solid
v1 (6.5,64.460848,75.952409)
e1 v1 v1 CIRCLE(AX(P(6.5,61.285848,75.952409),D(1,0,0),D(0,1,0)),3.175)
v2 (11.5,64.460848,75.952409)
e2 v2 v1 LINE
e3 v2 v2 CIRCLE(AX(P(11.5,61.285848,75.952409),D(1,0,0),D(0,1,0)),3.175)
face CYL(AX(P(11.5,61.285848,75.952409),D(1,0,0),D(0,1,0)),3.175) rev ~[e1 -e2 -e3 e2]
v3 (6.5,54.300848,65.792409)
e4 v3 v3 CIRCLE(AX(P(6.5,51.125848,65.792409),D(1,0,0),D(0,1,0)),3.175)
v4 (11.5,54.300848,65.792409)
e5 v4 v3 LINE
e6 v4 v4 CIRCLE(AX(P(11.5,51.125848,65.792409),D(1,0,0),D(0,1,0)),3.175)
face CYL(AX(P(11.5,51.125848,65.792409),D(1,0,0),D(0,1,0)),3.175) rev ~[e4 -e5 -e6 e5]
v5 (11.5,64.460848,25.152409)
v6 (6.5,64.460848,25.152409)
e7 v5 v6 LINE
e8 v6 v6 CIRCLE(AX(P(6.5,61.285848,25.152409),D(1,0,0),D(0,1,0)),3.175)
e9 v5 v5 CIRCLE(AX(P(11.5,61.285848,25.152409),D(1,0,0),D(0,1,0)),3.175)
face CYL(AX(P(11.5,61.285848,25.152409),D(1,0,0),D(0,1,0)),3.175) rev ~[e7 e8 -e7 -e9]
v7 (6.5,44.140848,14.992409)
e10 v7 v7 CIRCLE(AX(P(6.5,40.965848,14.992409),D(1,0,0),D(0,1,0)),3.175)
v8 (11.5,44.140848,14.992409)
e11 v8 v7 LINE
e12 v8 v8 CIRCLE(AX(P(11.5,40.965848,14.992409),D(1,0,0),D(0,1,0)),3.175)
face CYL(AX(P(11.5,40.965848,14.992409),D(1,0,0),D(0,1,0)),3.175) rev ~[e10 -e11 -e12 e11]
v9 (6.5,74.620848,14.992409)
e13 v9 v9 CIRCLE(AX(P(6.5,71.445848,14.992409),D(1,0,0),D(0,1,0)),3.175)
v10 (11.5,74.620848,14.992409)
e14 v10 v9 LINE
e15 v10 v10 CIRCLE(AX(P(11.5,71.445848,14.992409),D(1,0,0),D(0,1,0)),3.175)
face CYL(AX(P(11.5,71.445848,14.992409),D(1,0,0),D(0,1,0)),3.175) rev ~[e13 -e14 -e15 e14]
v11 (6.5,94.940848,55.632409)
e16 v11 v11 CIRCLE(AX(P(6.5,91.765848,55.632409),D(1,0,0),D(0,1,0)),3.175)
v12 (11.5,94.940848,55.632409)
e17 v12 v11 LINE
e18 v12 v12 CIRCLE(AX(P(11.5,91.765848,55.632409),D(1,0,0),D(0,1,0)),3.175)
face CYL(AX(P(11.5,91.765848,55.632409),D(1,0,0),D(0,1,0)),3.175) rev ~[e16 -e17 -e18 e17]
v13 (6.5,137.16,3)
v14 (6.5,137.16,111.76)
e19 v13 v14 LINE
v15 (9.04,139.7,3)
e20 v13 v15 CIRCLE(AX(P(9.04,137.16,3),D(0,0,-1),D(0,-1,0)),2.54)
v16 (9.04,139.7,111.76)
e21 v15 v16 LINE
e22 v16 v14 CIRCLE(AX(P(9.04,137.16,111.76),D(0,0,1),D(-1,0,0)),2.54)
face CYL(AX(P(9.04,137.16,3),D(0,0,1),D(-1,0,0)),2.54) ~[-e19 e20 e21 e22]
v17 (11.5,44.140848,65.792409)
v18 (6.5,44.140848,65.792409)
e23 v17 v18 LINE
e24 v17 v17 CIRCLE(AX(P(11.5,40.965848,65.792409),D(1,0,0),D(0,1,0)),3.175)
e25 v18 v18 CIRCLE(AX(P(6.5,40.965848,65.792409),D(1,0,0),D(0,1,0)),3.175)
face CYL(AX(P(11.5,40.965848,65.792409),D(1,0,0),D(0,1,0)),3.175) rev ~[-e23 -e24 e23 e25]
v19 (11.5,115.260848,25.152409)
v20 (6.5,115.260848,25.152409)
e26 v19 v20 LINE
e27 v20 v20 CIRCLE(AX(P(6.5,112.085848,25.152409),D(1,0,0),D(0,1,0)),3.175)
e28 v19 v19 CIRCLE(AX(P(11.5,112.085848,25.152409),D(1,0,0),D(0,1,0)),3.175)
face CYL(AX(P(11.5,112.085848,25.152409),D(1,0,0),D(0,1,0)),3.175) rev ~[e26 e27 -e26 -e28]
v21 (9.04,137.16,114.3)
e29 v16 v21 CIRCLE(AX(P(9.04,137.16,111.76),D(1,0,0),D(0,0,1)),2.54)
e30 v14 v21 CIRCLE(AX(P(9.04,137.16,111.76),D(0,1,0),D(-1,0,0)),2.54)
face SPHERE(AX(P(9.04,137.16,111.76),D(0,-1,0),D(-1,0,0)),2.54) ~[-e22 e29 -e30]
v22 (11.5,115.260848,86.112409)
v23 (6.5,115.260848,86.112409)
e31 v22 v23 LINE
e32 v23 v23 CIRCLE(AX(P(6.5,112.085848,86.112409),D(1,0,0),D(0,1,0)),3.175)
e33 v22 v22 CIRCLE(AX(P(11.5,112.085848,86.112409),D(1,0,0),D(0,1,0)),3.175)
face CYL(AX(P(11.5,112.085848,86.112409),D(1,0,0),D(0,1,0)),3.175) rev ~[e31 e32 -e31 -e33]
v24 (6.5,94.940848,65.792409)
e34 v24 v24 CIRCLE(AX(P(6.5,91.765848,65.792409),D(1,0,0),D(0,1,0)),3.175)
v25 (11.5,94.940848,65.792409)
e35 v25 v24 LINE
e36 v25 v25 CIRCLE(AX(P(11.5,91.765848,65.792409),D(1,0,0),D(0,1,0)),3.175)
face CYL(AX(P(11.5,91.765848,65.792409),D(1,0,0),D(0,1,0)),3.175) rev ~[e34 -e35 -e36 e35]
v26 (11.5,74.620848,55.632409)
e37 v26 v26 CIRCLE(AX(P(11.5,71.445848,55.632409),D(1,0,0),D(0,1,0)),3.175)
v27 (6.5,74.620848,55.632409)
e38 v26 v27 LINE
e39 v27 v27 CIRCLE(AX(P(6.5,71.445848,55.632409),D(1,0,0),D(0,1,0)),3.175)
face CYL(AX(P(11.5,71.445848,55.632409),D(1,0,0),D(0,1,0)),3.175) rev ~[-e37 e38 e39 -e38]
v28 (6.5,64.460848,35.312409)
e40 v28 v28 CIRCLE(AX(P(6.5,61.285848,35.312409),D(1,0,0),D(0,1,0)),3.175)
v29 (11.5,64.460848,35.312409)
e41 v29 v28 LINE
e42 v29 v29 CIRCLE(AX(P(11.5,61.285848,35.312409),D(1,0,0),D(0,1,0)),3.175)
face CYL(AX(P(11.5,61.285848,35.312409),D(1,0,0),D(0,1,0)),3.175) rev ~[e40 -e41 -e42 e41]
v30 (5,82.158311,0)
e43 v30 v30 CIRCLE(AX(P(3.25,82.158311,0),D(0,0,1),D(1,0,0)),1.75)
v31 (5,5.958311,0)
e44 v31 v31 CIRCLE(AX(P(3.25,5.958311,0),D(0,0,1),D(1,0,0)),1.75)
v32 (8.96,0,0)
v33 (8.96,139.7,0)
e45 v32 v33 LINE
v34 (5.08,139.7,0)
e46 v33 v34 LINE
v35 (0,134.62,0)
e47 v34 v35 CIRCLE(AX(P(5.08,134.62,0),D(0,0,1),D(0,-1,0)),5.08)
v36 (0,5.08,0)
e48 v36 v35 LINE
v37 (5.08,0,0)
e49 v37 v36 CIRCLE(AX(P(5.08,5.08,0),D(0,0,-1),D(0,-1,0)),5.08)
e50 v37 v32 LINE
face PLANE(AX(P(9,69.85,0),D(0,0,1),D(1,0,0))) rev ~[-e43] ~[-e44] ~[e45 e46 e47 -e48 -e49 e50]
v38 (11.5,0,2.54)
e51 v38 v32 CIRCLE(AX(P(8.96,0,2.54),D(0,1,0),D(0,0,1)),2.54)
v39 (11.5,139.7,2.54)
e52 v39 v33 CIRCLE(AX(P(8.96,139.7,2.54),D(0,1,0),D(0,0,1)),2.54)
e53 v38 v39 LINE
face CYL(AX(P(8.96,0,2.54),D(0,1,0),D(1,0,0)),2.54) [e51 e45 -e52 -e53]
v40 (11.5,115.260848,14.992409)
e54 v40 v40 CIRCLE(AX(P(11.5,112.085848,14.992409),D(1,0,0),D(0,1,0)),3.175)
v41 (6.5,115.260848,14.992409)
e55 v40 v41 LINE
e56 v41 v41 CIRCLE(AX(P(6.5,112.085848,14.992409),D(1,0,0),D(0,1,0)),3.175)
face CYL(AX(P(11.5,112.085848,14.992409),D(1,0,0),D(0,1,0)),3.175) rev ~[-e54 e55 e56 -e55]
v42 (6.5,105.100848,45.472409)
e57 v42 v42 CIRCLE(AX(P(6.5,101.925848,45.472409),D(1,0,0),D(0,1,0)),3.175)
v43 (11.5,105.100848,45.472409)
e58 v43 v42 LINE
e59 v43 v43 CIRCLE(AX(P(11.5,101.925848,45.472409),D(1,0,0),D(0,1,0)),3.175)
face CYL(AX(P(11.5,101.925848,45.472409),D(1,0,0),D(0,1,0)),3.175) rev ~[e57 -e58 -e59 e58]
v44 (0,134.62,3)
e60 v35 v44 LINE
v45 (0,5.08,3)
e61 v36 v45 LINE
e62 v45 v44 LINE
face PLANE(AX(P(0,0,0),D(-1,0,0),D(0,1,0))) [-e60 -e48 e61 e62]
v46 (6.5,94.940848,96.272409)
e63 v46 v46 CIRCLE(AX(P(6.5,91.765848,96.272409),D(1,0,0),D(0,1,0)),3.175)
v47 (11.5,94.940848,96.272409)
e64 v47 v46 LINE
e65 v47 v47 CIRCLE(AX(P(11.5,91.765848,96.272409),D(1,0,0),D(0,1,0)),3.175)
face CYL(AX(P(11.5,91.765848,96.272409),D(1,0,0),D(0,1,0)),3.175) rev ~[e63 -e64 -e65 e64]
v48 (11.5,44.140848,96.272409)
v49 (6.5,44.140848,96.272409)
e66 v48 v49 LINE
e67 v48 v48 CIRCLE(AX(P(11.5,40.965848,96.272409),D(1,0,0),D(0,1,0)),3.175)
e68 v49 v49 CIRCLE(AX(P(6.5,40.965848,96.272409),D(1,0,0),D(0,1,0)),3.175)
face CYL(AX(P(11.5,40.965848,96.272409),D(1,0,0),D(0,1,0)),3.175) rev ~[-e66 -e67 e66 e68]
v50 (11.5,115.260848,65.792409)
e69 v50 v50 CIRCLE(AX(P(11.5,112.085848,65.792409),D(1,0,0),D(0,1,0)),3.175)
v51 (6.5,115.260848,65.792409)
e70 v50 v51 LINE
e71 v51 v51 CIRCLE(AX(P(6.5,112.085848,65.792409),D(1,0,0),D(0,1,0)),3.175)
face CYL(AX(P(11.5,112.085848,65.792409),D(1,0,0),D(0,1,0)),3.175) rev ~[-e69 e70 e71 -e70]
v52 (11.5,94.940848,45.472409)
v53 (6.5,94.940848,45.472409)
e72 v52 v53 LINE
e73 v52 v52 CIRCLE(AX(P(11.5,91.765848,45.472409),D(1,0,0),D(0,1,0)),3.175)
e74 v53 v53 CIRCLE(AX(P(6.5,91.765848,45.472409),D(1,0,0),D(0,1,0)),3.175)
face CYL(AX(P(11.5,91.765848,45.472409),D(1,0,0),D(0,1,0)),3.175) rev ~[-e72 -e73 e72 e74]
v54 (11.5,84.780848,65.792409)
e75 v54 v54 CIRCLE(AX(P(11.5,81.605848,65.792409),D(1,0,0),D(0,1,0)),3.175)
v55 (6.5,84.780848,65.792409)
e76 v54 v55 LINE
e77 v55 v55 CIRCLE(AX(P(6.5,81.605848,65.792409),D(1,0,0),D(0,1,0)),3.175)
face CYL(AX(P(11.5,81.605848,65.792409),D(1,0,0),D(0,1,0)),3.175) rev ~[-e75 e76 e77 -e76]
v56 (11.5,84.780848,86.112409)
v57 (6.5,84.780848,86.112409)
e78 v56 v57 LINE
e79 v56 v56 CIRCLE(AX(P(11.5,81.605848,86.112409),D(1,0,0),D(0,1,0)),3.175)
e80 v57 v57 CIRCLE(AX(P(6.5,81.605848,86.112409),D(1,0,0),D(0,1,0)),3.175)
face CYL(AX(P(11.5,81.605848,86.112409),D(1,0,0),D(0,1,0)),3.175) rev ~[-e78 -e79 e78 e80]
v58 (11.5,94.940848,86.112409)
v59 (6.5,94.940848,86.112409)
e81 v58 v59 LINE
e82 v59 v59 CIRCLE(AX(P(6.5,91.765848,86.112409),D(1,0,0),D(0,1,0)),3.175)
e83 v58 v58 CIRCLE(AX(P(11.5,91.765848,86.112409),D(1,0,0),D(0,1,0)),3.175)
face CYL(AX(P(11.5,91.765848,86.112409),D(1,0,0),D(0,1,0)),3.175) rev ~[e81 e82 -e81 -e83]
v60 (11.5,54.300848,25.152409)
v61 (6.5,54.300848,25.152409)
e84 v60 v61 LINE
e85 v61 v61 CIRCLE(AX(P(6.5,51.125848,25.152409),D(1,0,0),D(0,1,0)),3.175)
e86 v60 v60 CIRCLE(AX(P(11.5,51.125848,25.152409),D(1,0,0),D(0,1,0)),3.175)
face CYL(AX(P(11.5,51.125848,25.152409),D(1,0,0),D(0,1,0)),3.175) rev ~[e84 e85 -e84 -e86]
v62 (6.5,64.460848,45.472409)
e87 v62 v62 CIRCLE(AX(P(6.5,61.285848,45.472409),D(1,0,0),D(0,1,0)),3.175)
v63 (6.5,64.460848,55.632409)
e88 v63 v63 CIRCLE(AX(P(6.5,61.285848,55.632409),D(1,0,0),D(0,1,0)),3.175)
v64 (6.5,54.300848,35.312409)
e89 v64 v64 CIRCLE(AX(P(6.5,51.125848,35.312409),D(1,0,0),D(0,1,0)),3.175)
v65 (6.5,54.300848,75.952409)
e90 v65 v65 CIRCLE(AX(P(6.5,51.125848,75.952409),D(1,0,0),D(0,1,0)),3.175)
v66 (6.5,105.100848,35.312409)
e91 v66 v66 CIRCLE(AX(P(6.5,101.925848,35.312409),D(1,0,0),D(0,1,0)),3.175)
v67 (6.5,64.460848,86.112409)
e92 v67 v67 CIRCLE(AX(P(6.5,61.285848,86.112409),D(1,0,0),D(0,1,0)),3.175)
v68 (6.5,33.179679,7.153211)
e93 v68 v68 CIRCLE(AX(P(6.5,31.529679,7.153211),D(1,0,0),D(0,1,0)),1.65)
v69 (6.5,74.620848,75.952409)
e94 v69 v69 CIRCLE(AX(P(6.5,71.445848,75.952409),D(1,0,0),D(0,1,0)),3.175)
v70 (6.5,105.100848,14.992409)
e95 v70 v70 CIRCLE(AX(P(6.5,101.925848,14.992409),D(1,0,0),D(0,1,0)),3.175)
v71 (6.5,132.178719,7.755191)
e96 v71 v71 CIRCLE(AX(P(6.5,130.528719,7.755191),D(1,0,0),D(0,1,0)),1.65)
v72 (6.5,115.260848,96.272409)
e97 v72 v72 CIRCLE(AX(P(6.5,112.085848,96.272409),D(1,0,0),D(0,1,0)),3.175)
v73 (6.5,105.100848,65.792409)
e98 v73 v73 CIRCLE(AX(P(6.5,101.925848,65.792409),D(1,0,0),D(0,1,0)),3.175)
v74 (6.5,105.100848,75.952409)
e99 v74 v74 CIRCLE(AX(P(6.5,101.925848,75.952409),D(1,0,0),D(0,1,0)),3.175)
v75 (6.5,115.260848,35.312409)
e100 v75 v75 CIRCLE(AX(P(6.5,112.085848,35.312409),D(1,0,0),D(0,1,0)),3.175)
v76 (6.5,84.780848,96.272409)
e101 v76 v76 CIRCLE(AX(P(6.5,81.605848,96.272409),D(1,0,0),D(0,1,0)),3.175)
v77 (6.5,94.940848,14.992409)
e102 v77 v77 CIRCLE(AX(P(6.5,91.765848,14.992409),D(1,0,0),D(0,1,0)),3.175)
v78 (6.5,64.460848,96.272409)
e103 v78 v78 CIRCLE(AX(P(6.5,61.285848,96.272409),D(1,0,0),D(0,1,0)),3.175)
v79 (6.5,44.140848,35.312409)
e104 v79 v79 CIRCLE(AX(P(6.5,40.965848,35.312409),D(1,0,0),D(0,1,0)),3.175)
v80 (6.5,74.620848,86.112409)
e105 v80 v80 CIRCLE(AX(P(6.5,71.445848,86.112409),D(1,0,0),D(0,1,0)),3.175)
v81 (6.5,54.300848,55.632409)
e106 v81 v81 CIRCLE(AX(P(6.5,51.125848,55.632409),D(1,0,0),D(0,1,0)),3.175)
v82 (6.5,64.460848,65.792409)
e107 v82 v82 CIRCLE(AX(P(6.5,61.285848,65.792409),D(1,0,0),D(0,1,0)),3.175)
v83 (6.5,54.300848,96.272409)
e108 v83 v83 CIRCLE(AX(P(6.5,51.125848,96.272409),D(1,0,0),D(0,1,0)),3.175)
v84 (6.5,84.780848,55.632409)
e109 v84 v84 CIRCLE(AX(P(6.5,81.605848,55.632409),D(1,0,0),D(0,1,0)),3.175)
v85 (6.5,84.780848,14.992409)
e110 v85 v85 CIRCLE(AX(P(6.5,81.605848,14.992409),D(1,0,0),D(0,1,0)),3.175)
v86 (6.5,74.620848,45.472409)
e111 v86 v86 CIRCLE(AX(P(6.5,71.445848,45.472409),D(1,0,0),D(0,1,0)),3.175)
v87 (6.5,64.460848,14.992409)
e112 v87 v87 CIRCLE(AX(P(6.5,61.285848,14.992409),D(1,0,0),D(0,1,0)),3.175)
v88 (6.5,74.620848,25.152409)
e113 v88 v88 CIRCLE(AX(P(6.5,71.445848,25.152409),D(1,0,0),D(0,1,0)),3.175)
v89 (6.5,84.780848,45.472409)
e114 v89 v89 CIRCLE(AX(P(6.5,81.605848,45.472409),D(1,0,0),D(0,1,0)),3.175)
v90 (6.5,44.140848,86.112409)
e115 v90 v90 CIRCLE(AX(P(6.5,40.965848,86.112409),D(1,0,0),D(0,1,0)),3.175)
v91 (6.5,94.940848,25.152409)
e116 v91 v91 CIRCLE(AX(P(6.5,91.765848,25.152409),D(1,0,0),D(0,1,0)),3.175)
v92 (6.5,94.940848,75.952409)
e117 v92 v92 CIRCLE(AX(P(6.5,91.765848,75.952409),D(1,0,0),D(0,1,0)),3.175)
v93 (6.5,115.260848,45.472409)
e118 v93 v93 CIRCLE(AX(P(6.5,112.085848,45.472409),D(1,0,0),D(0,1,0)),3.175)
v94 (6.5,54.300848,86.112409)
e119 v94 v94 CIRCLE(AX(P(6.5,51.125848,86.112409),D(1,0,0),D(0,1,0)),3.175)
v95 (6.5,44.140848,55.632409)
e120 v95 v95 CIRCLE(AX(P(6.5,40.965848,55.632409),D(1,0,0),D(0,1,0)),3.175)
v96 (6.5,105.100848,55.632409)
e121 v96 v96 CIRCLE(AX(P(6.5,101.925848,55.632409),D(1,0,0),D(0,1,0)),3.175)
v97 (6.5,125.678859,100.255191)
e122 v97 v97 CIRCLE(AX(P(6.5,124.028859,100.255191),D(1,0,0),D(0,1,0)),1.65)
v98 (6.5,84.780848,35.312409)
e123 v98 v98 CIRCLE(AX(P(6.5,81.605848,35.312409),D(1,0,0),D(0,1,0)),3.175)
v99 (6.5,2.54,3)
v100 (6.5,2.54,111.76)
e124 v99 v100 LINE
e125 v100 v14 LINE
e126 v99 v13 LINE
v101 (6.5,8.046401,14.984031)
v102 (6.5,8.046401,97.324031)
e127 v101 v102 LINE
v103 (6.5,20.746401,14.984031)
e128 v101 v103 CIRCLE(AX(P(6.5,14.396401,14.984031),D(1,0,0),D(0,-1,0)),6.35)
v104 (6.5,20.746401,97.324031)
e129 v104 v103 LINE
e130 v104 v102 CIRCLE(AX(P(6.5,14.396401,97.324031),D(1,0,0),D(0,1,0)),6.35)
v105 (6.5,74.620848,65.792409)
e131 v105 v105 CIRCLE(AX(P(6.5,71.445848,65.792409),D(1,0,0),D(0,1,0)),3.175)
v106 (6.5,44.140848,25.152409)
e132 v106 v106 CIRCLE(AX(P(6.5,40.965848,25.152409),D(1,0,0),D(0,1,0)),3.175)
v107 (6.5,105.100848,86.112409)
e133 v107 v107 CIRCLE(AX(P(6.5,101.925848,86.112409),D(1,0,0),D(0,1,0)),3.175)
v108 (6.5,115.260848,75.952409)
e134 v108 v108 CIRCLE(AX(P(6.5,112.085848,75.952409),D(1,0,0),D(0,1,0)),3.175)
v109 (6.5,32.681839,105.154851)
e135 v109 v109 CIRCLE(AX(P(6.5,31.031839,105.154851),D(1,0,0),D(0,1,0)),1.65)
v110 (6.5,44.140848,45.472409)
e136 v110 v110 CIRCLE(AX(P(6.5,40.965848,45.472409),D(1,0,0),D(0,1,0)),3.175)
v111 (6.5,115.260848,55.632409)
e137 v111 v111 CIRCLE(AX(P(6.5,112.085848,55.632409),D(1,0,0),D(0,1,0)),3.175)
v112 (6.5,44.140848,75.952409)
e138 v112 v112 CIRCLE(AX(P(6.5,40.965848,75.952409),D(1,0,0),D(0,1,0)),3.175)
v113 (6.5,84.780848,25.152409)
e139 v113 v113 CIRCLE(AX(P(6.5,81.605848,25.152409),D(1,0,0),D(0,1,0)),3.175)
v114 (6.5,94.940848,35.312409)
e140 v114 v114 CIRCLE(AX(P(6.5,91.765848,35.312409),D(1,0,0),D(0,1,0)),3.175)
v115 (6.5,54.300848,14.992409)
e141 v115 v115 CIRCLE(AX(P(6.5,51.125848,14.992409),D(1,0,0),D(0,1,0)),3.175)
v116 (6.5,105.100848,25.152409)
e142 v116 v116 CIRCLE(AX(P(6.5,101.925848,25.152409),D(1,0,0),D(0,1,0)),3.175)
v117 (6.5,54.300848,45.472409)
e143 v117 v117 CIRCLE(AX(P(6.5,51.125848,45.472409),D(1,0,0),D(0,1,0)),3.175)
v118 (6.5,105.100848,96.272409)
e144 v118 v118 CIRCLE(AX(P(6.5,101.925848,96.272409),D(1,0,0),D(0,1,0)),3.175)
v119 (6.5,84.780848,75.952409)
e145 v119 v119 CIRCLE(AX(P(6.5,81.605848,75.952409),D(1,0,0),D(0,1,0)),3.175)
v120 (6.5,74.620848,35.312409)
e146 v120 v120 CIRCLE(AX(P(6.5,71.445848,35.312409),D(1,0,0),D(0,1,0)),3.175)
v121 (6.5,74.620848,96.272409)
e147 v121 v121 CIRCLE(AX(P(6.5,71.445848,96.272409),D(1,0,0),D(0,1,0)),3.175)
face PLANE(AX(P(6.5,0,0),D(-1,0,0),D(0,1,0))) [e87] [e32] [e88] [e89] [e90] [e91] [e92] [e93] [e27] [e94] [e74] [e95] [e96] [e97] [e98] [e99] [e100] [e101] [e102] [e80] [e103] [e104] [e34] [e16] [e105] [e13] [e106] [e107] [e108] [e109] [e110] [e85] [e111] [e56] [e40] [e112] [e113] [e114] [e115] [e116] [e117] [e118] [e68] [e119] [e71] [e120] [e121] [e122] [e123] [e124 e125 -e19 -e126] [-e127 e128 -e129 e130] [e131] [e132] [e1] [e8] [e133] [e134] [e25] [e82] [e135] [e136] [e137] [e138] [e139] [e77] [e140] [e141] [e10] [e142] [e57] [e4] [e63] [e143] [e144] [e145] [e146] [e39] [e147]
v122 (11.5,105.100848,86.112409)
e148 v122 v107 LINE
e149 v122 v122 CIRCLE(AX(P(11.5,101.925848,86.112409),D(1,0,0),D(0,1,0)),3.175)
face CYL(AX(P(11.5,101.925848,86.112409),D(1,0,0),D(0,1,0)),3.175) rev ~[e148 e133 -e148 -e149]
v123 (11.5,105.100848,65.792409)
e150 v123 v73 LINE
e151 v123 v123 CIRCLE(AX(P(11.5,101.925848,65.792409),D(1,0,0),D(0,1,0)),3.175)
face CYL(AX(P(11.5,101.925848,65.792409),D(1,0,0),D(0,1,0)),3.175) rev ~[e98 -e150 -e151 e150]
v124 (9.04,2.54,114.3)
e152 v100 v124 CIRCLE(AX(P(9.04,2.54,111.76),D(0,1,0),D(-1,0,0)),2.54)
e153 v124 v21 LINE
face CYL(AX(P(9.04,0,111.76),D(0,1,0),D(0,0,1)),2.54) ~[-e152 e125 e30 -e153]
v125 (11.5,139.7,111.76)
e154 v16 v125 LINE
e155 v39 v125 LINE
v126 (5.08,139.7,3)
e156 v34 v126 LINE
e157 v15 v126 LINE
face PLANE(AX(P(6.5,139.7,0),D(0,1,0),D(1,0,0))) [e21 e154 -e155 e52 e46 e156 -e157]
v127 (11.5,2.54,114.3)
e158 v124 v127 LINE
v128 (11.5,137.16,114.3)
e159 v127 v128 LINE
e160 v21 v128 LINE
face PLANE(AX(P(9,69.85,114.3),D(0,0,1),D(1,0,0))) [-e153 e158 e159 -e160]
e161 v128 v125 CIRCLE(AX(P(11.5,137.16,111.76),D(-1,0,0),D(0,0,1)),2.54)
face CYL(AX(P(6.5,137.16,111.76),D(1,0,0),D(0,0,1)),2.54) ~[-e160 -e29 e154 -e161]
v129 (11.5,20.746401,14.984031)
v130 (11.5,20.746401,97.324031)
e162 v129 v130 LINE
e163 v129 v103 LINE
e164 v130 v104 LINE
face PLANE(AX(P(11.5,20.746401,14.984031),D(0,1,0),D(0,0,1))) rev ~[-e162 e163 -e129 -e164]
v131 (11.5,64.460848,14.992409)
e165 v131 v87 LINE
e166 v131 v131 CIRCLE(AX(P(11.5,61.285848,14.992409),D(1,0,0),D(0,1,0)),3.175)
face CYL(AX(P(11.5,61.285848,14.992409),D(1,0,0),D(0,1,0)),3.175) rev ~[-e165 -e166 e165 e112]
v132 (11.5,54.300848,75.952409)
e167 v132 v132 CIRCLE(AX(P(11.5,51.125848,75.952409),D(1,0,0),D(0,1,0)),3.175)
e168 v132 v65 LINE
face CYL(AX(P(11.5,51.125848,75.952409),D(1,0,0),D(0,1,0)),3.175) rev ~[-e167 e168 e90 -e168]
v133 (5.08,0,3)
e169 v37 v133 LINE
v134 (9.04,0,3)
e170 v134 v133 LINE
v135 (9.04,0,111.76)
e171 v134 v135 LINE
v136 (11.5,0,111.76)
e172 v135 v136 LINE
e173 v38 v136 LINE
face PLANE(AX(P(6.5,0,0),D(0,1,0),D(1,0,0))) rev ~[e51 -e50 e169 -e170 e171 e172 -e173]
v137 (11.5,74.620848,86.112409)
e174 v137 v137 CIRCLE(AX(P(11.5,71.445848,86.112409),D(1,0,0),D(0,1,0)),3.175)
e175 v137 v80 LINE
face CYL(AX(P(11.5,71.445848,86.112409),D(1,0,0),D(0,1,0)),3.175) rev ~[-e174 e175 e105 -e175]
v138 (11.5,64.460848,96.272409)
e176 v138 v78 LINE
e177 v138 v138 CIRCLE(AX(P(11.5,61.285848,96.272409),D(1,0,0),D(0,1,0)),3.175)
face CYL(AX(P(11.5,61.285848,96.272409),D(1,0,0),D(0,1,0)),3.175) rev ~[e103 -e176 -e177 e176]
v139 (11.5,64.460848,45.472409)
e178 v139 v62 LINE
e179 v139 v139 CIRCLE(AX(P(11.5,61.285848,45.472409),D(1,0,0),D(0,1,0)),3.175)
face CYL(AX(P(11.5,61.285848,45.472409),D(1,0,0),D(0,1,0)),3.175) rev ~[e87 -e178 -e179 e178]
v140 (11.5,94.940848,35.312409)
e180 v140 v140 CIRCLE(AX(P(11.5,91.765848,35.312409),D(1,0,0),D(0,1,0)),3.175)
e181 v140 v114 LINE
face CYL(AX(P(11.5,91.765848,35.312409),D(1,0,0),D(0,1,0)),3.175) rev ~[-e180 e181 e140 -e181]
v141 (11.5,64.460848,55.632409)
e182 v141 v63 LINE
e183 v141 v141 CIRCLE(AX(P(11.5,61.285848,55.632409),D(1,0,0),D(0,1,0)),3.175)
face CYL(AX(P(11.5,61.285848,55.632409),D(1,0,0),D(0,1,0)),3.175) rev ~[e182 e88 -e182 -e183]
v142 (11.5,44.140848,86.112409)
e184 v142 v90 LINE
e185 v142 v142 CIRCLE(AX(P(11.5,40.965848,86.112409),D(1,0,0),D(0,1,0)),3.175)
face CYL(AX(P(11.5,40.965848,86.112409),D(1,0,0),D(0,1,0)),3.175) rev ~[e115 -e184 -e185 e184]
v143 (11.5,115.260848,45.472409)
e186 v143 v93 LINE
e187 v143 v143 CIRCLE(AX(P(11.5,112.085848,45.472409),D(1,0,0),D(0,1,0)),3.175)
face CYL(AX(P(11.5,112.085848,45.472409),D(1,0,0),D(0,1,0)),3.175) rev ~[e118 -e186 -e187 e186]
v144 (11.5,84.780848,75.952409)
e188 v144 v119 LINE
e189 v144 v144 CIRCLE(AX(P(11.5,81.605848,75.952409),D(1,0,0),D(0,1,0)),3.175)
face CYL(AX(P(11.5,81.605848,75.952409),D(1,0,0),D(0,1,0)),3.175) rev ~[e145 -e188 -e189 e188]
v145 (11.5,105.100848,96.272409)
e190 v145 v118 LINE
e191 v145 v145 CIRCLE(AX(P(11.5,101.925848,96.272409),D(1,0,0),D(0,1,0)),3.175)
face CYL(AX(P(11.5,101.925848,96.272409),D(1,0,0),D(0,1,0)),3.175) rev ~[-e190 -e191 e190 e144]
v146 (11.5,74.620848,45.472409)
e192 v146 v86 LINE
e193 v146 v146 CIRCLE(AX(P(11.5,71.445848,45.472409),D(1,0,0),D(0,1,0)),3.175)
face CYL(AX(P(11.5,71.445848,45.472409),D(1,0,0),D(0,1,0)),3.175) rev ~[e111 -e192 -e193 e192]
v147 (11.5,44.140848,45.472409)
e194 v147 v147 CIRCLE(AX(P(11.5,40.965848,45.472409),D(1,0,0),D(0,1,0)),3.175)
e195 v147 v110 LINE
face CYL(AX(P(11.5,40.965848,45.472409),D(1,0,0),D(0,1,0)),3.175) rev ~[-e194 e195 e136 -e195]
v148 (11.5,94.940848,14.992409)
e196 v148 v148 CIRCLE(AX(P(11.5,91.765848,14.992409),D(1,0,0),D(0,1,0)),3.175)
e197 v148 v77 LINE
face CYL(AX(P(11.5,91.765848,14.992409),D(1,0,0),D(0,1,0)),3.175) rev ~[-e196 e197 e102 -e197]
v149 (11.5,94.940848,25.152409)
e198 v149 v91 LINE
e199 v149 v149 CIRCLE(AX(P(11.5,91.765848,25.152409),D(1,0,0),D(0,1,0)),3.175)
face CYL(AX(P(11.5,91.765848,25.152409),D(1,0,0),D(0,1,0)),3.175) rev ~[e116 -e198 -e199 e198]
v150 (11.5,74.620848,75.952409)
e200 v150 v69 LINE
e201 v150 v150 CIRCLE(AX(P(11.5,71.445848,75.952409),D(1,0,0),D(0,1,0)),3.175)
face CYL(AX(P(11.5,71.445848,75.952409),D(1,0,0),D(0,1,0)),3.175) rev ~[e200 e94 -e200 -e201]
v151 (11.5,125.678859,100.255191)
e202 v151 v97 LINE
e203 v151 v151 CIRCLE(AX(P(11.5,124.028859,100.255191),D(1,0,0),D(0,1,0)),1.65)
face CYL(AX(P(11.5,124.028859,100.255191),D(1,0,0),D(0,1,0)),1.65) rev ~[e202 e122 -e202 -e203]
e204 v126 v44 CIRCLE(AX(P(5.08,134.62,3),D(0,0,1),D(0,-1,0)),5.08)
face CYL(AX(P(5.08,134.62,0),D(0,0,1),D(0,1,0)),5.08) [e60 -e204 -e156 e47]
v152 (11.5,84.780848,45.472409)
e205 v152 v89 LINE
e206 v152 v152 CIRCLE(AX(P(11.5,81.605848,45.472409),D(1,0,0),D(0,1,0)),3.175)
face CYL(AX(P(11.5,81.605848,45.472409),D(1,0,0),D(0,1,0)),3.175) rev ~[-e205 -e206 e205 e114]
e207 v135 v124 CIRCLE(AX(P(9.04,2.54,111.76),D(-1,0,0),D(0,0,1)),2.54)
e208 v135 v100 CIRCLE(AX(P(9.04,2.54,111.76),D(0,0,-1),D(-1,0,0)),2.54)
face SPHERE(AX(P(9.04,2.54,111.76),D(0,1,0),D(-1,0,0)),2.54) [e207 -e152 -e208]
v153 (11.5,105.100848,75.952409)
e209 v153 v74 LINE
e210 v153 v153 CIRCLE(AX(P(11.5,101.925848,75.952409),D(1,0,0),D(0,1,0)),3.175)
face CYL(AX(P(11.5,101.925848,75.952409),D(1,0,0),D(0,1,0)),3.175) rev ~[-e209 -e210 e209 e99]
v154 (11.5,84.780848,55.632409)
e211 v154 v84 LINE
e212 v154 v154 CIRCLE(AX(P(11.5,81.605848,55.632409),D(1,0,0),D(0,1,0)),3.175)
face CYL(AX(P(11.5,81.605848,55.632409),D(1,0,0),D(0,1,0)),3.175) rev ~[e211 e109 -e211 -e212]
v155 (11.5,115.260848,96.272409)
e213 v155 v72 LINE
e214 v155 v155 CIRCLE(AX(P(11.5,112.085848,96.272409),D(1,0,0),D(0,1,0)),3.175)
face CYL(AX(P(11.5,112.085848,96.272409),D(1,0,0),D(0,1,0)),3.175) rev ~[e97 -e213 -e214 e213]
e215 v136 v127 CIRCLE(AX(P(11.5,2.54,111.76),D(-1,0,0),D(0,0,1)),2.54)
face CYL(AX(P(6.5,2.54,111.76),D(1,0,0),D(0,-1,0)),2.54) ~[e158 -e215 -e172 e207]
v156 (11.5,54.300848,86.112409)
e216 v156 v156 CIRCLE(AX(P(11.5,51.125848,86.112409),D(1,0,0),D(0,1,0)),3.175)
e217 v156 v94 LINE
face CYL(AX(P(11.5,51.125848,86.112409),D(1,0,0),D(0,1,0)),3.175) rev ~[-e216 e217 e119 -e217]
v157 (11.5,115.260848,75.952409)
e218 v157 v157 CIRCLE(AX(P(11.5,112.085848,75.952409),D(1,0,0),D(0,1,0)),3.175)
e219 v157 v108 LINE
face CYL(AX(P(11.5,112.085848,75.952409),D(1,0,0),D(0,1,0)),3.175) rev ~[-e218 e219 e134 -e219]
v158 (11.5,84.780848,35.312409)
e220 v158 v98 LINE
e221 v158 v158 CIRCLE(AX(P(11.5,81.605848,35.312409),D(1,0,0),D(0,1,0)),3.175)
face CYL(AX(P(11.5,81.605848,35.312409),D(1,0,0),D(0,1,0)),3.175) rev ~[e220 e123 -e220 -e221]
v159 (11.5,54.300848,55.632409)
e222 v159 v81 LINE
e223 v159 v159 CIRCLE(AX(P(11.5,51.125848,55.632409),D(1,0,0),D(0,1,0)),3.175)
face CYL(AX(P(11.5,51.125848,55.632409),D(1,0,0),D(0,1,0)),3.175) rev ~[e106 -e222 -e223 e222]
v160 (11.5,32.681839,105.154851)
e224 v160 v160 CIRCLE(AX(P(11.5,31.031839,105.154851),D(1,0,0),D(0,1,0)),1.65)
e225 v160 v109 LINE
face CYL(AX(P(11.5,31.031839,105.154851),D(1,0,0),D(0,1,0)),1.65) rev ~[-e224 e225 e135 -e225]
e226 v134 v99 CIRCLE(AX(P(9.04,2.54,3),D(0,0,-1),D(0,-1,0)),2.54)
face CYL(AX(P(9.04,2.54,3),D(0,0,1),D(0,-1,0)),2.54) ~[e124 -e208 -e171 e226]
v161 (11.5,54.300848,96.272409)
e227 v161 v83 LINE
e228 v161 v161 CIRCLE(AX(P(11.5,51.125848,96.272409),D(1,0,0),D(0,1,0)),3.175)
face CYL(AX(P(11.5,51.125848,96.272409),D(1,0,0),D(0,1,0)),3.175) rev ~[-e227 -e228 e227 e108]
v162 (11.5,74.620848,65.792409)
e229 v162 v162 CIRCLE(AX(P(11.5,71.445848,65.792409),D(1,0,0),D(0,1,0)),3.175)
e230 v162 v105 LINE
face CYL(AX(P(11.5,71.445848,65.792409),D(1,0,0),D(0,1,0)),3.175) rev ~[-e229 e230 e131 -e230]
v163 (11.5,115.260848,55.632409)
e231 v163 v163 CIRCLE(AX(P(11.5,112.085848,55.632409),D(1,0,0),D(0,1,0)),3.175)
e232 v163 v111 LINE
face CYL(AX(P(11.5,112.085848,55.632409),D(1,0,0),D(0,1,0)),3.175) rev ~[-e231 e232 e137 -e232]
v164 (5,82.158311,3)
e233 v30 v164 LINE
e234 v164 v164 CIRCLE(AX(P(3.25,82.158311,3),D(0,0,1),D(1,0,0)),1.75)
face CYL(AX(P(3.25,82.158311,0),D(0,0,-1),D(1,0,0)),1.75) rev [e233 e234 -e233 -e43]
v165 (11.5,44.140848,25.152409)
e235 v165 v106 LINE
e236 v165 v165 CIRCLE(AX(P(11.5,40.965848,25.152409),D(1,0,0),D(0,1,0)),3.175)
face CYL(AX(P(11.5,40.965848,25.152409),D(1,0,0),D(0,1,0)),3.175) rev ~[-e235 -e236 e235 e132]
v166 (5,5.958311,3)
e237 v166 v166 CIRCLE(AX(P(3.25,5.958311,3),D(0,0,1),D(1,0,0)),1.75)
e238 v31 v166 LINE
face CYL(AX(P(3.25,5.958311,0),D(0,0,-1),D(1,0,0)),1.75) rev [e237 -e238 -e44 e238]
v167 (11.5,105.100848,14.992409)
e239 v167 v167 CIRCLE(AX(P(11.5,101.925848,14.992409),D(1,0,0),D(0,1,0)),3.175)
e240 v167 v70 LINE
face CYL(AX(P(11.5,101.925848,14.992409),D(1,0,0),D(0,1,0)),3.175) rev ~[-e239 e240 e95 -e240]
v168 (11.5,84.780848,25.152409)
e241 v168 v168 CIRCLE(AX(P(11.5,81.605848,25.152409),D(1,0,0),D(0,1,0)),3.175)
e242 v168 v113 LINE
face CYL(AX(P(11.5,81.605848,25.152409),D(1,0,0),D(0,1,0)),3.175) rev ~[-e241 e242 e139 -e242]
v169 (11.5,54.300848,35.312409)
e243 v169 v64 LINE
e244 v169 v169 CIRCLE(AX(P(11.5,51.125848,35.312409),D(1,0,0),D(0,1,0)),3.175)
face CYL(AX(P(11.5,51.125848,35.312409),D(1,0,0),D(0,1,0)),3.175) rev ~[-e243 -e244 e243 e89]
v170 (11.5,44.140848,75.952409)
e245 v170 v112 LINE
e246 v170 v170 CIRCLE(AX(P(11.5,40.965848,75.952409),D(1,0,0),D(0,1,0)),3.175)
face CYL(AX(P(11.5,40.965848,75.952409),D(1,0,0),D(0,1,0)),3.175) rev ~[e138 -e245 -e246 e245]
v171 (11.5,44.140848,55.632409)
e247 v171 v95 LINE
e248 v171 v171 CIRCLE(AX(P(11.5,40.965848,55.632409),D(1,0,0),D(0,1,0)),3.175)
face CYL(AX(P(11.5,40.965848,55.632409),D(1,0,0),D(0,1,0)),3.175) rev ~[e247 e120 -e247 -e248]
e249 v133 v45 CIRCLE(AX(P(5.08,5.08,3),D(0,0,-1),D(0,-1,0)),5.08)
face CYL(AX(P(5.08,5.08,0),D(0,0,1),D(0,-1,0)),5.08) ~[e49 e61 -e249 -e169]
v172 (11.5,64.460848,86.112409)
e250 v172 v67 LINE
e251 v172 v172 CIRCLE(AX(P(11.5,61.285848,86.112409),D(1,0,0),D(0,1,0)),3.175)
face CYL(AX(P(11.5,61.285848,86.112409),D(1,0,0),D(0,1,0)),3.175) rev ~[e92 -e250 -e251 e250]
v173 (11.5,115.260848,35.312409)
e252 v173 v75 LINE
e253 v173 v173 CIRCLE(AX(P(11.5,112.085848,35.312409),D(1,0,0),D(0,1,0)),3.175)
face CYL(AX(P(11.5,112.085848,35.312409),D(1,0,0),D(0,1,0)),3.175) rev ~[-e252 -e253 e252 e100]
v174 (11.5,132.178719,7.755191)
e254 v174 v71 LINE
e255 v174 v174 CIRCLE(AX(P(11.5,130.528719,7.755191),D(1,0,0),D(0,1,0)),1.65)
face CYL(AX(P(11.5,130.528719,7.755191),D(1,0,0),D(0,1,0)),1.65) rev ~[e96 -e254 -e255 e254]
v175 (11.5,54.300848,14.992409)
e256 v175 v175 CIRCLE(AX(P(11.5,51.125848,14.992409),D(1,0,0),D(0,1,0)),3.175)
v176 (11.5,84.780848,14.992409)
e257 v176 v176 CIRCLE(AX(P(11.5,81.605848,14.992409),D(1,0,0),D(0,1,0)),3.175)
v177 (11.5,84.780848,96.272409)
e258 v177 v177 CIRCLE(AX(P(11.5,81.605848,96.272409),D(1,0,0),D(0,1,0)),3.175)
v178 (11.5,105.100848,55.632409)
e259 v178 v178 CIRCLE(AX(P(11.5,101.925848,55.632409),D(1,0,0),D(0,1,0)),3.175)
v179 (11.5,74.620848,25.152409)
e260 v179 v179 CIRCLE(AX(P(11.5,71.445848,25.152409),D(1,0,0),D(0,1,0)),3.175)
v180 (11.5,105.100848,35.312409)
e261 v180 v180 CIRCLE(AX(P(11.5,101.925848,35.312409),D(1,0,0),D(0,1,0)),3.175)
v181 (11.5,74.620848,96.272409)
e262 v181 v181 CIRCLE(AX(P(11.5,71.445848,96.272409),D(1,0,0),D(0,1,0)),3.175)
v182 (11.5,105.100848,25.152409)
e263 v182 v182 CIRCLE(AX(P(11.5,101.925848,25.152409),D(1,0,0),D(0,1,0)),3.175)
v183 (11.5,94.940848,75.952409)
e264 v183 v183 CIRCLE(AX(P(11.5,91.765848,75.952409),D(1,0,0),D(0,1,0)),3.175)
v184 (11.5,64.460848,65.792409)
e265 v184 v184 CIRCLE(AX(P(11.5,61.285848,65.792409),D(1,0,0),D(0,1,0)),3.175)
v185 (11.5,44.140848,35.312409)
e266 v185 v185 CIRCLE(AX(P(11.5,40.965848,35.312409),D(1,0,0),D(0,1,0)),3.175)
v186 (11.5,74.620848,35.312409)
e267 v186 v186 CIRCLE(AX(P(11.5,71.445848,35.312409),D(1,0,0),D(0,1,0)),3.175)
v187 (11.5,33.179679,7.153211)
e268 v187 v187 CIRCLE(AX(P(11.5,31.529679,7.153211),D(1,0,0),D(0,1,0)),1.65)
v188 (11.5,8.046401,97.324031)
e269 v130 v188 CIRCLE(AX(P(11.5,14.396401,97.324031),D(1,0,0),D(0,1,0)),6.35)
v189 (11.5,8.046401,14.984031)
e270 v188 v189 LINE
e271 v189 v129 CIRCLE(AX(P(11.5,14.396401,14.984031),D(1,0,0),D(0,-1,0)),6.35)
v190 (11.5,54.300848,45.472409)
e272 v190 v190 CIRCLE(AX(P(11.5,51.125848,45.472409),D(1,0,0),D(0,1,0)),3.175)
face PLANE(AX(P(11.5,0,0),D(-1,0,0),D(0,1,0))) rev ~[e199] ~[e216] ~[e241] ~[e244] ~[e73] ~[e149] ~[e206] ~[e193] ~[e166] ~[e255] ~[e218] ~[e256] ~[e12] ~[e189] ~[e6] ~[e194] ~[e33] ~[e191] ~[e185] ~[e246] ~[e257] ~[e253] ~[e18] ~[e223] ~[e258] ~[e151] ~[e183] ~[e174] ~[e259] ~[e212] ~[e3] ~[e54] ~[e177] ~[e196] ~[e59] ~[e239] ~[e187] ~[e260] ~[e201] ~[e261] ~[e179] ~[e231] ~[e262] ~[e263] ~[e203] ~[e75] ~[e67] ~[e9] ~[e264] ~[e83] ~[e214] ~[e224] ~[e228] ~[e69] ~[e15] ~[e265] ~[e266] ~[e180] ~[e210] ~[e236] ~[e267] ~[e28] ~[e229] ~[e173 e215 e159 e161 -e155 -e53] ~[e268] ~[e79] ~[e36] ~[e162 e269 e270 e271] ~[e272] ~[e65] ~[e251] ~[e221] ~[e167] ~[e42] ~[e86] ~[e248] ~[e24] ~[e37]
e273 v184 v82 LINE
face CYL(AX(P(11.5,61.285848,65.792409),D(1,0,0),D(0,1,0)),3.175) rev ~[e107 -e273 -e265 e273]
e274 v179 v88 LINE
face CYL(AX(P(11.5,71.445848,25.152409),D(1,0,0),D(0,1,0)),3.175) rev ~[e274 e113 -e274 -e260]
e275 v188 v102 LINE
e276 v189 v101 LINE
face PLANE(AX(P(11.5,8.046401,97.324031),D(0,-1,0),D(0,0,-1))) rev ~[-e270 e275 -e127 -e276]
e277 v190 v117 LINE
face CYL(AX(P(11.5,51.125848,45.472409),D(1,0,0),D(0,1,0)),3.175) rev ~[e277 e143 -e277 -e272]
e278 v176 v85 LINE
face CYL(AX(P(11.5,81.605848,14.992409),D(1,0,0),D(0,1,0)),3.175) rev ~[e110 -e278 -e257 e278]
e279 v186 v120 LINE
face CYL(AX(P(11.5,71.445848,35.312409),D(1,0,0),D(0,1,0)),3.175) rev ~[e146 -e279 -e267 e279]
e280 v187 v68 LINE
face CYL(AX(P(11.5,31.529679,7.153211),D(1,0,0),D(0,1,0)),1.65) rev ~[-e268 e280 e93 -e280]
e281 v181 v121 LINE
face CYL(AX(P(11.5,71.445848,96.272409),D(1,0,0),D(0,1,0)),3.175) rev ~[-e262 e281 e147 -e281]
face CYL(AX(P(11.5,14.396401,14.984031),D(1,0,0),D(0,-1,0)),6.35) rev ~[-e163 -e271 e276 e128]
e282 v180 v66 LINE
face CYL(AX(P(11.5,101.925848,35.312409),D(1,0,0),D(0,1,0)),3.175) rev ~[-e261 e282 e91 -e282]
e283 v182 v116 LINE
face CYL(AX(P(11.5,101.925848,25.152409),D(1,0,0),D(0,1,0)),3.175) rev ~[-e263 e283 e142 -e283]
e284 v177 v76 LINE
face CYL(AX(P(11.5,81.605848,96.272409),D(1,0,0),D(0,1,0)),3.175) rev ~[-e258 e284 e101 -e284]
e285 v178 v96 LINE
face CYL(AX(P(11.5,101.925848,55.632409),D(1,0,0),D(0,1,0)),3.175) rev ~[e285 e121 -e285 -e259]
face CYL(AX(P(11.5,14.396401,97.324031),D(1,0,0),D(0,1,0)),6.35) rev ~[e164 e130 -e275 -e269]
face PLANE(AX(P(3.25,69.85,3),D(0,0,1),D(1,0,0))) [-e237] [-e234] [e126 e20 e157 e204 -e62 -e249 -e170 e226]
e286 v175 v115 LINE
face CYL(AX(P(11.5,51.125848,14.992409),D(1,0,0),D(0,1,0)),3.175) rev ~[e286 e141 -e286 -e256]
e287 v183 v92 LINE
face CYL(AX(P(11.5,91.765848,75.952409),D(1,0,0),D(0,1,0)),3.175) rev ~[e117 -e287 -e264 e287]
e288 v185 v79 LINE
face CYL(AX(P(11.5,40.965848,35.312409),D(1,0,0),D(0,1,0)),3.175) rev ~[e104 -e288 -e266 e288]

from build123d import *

# Parameters (mm, degrees)
F0_W     = 6.5
F0_H     = 139.7
F0_R     = 1.75
F1_DEPTH = 3
F0_W_2   = 5
F2_DEPTH = 114.3
F3_R     = 1.65
F3_R_2   = 3.175
F4_DEPTH = 25.4
F5_R     = 2.54
F6_R     = 5.08


with BuildPart() as f1:
    # F0 (on Top) → F1 (new body)
    with BuildSketch(Plane.XY):
        with Locations((3.25, 69.85)):
            Rectangle(F0_W, F0_H)
        with Locations((3.25, 5.9583112597)):
            Circle(F0_R, mode=Mode.SUBTRACT)
        with Locations((3.25, 82.1583112597)):
            Circle(F0_R, mode=Mode.SUBTRACT)
    extrude(amount=F1_DEPTH)

    # F0 (on Top) → F2 (join)
    with BuildSketch(Plane.XY):
        with Locations((9, 69.85)):
            Rectangle(F0_W_2, F0_H)
    extrude(amount=F2_DEPTH)

    # F3 (on face) → F4 (cut)
    with BuildSketch(Plane.YZ.offset(11.5)):
        with Locations((31.0318387245, 105.1548512529)):
            Circle(F3_R)
        with Locations((31.5296787245, 7.1532112529)):
            Circle(F3_R)
        with Locations((124.0288587245, 100.2551912529)):
            Circle(F3_R)
        with Locations((130.5287187245, 7.7551912529)):
            Circle(F3_R)
        with Locations((40.965847671, 96.2724089622)):
            Circle(F3_R_2)
        with Locations((40.965847671, 86.1124089622)):
            Circle(F3_R_2)
        with Locations((40.965847671, 75.9524089622)):
            Circle(F3_R_2)
        with Locations((40.965847671, 65.7924089622)):
            Circle(F3_R_2)
        with Locations((40.965847671, 55.6324089622)):
            Circle(F3_R_2)
        with Locations((40.965847671, 45.4724089622)):
            Circle(F3_R_2)
        with Locations((40.965847671, 35.3124089622)):
            Circle(F3_R_2)
        with Locations((40.965847671, 25.1524089622)):
            Circle(F3_R_2)
        with Locations((40.965847671, 14.9924089622)):
            Circle(F3_R_2)
        with Locations((51.125847671, 96.2724089622)):
            Circle(F3_R_2)
        with Locations((51.125847671, 86.1124089622)):
            Circle(F3_R_2)
        with Locations((51.125847671, 75.9524089622)):
            Circle(F3_R_2)
        with Locations((51.125847671, 65.7924089622)):
            Circle(F3_R_2)
        with Locations((51.125847671, 55.6324089622)):
            Circle(F3_R_2)
        with Locations((51.125847671, 45.4724089622)):
            Circle(F3_R_2)
        with Locations((51.125847671, 35.3124089622)):
            Circle(F3_R_2)
        with Locations((51.125847671, 25.1524089622)):
            Circle(F3_R_2)
        with Locations((51.125847671, 14.9924089622)):
            Circle(F3_R_2)
        with Locations((61.285847671, 96.2724089622)):
            Circle(F3_R_2)
        with Locations((61.285847671, 86.1124089622)):
            Circle(F3_R_2)
        with Locations((61.285847671, 75.9524089622)):
            Circle(F3_R_2)
        with Locations((61.285847671, 65.7924089622)):
            Circle(F3_R_2)
        with Locations((61.285847671, 55.6324089622)):
            Circle(F3_R_2)
        with Locations((61.285847671, 45.4724089622)):
            Circle(F3_R_2)
        with Locations((61.285847671, 35.3124089622)):
            Circle(F3_R_2)
        with Locations((61.285847671, 25.1524089622)):
            Circle(F3_R_2)
        with Locations((61.285847671, 14.9924089622)):
            Circle(F3_R_2)
        with Locations((71.445847671, 96.2724089622)):
            Circle(F3_R_2)
        with Locations((71.445847671, 86.1124089622)):
            Circle(F3_R_2)
        with Locations((71.445847671, 75.9524089622)):
            Circle(F3_R_2)
        with Locations((71.445847671, 65.7924089622)):
            Circle(F3_R_2)
        with Locations((71.445847671, 55.6324089622)):
            Circle(F3_R_2)
        with Locations((71.445847671, 45.4724089622)):
            Circle(F3_R_2)
        with Locations((71.445847671, 35.3124089622)):
            Circle(F3_R_2)
        with Locations((71.445847671, 25.1524089622)):
            Circle(F3_R_2)
        with Locations((71.445847671, 14.9924089622)):
            Circle(F3_R_2)
        with Locations((81.605847671, 96.2724089622)):
            Circle(F3_R_2)
        with Locations((81.605847671, 86.1124089622)):
            Circle(F3_R_2)
        with Locations((81.605847671, 75.9524089622)):
            Circle(F3_R_2)
        with Locations((81.605847671, 65.7924089622)):
            Circle(F3_R_2)
        with Locations((81.605847671, 55.6324089622)):
            Circle(F3_R_2)
        with Locations((81.605847671, 45.4724089622)):
            Circle(F3_R_2)
        with Locations((81.605847671, 35.3124089622)):
            Circle(F3_R_2)
        with Locations((81.605847671, 25.1524089622)):
            Circle(F3_R_2)
        with Locations((81.605847671, 14.9924089622)):
            Circle(F3_R_2)
        with Locations((91.765847671, 96.2724089622)):
            Circle(F3_R_2)
        with Locations((91.765847671, 86.1124089622)):
            Circle(F3_R_2)
        with Locations((91.765847671, 75.9524089622)):
            Circle(F3_R_2)
        with Locations((91.765847671, 65.7924089622)):
            Circle(F3_R_2)
        with Locations((91.765847671, 55.6324089622)):
            Circle(F3_R_2)
        with Locations((91.765847671, 45.4724089622)):
            Circle(F3_R_2)
        with Locations((91.765847671, 35.3124089622)):
            Circle(F3_R_2)
        with Locations((91.765847671, 25.1524089622)):
            Circle(F3_R_2)
        with Locations((91.765847671, 14.9924089622)):
            Circle(F3_R_2)
        with Locations((101.925847671, 96.2724089622)):
            Circle(F3_R_2)
        with Locations((101.925847671, 86.1124089622)):
            Circle(F3_R_2)
        with Locations((101.925847671, 75.9524089622)):
            Circle(F3_R_2)
        with Locations((101.925847671, 65.7924089622)):
            Circle(F3_R_2)
        with Locations((101.925847671, 55.6324089622)):
            Circle(F3_R_2)
        with Locations((101.925847671, 45.4724089622)):
            Circle(F3_R_2)
        with Locations((101.925847671, 35.3124089622)):
            Circle(F3_R_2)
        with Locations((101.925847671, 25.1524089622)):
            Circle(F3_R_2)
        with Locations((101.925847671, 14.9924089622)):
            Circle(F3_R_2)
        with Locations((112.085847671, 96.2724089622)):
            Circle(F3_R_2)
        with Locations((112.085847671, 86.1124089622)):
            Circle(F3_R_2)
        with Locations((112.085847671, 75.9524089622)):
            Circle(F3_R_2)
        with Locations((112.085847671, 65.7924089622)):
            Circle(F3_R_2)
        with Locations((112.085847671, 55.6324089622)):
            Circle(F3_R_2)
        with Locations((112.085847671, 45.4724089622)):
            Circle(F3_R_2)
        with Locations((112.085847671, 35.3124089622)):
            Circle(F3_R_2)
        with Locations((112.085847671, 25.1524089622)):
            Circle(F3_R_2)
        with Locations((112.085847671, 14.9924089622)):
            Circle(F3_R_2)
        with BuildLine():
            ThreePointArc((20.7464011222, 97.3240312529), (14.3964011222, 103.6740312529), (8.0464011222, 97.3240312529))
            Line((8.0464011222, 97.3240312529), (8.0464011222, 14.9840312529))
            ThreePointArc((8.0464011222, 14.9840312529), (14.3964011222, 8.6340312529), (20.7464011222, 14.9840312529))
            Line((20.7464011222, 14.9840312529), (20.7464011222, 97.3240312529))
        make_face()
    extrude(amount=-F4_DEPTH, mode=Mode.SUBTRACT)

    # F5 (call 1 of 2: OpenCascade refuses the feature's edges together)
    f5_edges = [f1.edges().sort_by_distance(p)[0] for p in [
        (11.5, 69.85, 0),
    ]]
    fillet(f5_edges, radius=F5_R)

    # F5#2 (call 2 of 2)
    f5_2_edges = [f1.edges().sort_by_distance(p)[0] for p in [
        (6.5, 69.85, 114.3),
        (6.5, 0, 58.65),
        (6.5, 139.7, 58.65),
        (9, 139.7, 114.3),
        (9, 0, 114.3),
    ]]
    fillet(f5_2_edges, radius=F5_R)

    # F6
    f6_edges = [f1.edges().sort_by_distance(p)[0] for p in [
        (0, 0, 1.5),
        (0, 139.7, 1.5),
    ]]
    fillet(f6_edges, radius=F6_R)


solid = f1.part
